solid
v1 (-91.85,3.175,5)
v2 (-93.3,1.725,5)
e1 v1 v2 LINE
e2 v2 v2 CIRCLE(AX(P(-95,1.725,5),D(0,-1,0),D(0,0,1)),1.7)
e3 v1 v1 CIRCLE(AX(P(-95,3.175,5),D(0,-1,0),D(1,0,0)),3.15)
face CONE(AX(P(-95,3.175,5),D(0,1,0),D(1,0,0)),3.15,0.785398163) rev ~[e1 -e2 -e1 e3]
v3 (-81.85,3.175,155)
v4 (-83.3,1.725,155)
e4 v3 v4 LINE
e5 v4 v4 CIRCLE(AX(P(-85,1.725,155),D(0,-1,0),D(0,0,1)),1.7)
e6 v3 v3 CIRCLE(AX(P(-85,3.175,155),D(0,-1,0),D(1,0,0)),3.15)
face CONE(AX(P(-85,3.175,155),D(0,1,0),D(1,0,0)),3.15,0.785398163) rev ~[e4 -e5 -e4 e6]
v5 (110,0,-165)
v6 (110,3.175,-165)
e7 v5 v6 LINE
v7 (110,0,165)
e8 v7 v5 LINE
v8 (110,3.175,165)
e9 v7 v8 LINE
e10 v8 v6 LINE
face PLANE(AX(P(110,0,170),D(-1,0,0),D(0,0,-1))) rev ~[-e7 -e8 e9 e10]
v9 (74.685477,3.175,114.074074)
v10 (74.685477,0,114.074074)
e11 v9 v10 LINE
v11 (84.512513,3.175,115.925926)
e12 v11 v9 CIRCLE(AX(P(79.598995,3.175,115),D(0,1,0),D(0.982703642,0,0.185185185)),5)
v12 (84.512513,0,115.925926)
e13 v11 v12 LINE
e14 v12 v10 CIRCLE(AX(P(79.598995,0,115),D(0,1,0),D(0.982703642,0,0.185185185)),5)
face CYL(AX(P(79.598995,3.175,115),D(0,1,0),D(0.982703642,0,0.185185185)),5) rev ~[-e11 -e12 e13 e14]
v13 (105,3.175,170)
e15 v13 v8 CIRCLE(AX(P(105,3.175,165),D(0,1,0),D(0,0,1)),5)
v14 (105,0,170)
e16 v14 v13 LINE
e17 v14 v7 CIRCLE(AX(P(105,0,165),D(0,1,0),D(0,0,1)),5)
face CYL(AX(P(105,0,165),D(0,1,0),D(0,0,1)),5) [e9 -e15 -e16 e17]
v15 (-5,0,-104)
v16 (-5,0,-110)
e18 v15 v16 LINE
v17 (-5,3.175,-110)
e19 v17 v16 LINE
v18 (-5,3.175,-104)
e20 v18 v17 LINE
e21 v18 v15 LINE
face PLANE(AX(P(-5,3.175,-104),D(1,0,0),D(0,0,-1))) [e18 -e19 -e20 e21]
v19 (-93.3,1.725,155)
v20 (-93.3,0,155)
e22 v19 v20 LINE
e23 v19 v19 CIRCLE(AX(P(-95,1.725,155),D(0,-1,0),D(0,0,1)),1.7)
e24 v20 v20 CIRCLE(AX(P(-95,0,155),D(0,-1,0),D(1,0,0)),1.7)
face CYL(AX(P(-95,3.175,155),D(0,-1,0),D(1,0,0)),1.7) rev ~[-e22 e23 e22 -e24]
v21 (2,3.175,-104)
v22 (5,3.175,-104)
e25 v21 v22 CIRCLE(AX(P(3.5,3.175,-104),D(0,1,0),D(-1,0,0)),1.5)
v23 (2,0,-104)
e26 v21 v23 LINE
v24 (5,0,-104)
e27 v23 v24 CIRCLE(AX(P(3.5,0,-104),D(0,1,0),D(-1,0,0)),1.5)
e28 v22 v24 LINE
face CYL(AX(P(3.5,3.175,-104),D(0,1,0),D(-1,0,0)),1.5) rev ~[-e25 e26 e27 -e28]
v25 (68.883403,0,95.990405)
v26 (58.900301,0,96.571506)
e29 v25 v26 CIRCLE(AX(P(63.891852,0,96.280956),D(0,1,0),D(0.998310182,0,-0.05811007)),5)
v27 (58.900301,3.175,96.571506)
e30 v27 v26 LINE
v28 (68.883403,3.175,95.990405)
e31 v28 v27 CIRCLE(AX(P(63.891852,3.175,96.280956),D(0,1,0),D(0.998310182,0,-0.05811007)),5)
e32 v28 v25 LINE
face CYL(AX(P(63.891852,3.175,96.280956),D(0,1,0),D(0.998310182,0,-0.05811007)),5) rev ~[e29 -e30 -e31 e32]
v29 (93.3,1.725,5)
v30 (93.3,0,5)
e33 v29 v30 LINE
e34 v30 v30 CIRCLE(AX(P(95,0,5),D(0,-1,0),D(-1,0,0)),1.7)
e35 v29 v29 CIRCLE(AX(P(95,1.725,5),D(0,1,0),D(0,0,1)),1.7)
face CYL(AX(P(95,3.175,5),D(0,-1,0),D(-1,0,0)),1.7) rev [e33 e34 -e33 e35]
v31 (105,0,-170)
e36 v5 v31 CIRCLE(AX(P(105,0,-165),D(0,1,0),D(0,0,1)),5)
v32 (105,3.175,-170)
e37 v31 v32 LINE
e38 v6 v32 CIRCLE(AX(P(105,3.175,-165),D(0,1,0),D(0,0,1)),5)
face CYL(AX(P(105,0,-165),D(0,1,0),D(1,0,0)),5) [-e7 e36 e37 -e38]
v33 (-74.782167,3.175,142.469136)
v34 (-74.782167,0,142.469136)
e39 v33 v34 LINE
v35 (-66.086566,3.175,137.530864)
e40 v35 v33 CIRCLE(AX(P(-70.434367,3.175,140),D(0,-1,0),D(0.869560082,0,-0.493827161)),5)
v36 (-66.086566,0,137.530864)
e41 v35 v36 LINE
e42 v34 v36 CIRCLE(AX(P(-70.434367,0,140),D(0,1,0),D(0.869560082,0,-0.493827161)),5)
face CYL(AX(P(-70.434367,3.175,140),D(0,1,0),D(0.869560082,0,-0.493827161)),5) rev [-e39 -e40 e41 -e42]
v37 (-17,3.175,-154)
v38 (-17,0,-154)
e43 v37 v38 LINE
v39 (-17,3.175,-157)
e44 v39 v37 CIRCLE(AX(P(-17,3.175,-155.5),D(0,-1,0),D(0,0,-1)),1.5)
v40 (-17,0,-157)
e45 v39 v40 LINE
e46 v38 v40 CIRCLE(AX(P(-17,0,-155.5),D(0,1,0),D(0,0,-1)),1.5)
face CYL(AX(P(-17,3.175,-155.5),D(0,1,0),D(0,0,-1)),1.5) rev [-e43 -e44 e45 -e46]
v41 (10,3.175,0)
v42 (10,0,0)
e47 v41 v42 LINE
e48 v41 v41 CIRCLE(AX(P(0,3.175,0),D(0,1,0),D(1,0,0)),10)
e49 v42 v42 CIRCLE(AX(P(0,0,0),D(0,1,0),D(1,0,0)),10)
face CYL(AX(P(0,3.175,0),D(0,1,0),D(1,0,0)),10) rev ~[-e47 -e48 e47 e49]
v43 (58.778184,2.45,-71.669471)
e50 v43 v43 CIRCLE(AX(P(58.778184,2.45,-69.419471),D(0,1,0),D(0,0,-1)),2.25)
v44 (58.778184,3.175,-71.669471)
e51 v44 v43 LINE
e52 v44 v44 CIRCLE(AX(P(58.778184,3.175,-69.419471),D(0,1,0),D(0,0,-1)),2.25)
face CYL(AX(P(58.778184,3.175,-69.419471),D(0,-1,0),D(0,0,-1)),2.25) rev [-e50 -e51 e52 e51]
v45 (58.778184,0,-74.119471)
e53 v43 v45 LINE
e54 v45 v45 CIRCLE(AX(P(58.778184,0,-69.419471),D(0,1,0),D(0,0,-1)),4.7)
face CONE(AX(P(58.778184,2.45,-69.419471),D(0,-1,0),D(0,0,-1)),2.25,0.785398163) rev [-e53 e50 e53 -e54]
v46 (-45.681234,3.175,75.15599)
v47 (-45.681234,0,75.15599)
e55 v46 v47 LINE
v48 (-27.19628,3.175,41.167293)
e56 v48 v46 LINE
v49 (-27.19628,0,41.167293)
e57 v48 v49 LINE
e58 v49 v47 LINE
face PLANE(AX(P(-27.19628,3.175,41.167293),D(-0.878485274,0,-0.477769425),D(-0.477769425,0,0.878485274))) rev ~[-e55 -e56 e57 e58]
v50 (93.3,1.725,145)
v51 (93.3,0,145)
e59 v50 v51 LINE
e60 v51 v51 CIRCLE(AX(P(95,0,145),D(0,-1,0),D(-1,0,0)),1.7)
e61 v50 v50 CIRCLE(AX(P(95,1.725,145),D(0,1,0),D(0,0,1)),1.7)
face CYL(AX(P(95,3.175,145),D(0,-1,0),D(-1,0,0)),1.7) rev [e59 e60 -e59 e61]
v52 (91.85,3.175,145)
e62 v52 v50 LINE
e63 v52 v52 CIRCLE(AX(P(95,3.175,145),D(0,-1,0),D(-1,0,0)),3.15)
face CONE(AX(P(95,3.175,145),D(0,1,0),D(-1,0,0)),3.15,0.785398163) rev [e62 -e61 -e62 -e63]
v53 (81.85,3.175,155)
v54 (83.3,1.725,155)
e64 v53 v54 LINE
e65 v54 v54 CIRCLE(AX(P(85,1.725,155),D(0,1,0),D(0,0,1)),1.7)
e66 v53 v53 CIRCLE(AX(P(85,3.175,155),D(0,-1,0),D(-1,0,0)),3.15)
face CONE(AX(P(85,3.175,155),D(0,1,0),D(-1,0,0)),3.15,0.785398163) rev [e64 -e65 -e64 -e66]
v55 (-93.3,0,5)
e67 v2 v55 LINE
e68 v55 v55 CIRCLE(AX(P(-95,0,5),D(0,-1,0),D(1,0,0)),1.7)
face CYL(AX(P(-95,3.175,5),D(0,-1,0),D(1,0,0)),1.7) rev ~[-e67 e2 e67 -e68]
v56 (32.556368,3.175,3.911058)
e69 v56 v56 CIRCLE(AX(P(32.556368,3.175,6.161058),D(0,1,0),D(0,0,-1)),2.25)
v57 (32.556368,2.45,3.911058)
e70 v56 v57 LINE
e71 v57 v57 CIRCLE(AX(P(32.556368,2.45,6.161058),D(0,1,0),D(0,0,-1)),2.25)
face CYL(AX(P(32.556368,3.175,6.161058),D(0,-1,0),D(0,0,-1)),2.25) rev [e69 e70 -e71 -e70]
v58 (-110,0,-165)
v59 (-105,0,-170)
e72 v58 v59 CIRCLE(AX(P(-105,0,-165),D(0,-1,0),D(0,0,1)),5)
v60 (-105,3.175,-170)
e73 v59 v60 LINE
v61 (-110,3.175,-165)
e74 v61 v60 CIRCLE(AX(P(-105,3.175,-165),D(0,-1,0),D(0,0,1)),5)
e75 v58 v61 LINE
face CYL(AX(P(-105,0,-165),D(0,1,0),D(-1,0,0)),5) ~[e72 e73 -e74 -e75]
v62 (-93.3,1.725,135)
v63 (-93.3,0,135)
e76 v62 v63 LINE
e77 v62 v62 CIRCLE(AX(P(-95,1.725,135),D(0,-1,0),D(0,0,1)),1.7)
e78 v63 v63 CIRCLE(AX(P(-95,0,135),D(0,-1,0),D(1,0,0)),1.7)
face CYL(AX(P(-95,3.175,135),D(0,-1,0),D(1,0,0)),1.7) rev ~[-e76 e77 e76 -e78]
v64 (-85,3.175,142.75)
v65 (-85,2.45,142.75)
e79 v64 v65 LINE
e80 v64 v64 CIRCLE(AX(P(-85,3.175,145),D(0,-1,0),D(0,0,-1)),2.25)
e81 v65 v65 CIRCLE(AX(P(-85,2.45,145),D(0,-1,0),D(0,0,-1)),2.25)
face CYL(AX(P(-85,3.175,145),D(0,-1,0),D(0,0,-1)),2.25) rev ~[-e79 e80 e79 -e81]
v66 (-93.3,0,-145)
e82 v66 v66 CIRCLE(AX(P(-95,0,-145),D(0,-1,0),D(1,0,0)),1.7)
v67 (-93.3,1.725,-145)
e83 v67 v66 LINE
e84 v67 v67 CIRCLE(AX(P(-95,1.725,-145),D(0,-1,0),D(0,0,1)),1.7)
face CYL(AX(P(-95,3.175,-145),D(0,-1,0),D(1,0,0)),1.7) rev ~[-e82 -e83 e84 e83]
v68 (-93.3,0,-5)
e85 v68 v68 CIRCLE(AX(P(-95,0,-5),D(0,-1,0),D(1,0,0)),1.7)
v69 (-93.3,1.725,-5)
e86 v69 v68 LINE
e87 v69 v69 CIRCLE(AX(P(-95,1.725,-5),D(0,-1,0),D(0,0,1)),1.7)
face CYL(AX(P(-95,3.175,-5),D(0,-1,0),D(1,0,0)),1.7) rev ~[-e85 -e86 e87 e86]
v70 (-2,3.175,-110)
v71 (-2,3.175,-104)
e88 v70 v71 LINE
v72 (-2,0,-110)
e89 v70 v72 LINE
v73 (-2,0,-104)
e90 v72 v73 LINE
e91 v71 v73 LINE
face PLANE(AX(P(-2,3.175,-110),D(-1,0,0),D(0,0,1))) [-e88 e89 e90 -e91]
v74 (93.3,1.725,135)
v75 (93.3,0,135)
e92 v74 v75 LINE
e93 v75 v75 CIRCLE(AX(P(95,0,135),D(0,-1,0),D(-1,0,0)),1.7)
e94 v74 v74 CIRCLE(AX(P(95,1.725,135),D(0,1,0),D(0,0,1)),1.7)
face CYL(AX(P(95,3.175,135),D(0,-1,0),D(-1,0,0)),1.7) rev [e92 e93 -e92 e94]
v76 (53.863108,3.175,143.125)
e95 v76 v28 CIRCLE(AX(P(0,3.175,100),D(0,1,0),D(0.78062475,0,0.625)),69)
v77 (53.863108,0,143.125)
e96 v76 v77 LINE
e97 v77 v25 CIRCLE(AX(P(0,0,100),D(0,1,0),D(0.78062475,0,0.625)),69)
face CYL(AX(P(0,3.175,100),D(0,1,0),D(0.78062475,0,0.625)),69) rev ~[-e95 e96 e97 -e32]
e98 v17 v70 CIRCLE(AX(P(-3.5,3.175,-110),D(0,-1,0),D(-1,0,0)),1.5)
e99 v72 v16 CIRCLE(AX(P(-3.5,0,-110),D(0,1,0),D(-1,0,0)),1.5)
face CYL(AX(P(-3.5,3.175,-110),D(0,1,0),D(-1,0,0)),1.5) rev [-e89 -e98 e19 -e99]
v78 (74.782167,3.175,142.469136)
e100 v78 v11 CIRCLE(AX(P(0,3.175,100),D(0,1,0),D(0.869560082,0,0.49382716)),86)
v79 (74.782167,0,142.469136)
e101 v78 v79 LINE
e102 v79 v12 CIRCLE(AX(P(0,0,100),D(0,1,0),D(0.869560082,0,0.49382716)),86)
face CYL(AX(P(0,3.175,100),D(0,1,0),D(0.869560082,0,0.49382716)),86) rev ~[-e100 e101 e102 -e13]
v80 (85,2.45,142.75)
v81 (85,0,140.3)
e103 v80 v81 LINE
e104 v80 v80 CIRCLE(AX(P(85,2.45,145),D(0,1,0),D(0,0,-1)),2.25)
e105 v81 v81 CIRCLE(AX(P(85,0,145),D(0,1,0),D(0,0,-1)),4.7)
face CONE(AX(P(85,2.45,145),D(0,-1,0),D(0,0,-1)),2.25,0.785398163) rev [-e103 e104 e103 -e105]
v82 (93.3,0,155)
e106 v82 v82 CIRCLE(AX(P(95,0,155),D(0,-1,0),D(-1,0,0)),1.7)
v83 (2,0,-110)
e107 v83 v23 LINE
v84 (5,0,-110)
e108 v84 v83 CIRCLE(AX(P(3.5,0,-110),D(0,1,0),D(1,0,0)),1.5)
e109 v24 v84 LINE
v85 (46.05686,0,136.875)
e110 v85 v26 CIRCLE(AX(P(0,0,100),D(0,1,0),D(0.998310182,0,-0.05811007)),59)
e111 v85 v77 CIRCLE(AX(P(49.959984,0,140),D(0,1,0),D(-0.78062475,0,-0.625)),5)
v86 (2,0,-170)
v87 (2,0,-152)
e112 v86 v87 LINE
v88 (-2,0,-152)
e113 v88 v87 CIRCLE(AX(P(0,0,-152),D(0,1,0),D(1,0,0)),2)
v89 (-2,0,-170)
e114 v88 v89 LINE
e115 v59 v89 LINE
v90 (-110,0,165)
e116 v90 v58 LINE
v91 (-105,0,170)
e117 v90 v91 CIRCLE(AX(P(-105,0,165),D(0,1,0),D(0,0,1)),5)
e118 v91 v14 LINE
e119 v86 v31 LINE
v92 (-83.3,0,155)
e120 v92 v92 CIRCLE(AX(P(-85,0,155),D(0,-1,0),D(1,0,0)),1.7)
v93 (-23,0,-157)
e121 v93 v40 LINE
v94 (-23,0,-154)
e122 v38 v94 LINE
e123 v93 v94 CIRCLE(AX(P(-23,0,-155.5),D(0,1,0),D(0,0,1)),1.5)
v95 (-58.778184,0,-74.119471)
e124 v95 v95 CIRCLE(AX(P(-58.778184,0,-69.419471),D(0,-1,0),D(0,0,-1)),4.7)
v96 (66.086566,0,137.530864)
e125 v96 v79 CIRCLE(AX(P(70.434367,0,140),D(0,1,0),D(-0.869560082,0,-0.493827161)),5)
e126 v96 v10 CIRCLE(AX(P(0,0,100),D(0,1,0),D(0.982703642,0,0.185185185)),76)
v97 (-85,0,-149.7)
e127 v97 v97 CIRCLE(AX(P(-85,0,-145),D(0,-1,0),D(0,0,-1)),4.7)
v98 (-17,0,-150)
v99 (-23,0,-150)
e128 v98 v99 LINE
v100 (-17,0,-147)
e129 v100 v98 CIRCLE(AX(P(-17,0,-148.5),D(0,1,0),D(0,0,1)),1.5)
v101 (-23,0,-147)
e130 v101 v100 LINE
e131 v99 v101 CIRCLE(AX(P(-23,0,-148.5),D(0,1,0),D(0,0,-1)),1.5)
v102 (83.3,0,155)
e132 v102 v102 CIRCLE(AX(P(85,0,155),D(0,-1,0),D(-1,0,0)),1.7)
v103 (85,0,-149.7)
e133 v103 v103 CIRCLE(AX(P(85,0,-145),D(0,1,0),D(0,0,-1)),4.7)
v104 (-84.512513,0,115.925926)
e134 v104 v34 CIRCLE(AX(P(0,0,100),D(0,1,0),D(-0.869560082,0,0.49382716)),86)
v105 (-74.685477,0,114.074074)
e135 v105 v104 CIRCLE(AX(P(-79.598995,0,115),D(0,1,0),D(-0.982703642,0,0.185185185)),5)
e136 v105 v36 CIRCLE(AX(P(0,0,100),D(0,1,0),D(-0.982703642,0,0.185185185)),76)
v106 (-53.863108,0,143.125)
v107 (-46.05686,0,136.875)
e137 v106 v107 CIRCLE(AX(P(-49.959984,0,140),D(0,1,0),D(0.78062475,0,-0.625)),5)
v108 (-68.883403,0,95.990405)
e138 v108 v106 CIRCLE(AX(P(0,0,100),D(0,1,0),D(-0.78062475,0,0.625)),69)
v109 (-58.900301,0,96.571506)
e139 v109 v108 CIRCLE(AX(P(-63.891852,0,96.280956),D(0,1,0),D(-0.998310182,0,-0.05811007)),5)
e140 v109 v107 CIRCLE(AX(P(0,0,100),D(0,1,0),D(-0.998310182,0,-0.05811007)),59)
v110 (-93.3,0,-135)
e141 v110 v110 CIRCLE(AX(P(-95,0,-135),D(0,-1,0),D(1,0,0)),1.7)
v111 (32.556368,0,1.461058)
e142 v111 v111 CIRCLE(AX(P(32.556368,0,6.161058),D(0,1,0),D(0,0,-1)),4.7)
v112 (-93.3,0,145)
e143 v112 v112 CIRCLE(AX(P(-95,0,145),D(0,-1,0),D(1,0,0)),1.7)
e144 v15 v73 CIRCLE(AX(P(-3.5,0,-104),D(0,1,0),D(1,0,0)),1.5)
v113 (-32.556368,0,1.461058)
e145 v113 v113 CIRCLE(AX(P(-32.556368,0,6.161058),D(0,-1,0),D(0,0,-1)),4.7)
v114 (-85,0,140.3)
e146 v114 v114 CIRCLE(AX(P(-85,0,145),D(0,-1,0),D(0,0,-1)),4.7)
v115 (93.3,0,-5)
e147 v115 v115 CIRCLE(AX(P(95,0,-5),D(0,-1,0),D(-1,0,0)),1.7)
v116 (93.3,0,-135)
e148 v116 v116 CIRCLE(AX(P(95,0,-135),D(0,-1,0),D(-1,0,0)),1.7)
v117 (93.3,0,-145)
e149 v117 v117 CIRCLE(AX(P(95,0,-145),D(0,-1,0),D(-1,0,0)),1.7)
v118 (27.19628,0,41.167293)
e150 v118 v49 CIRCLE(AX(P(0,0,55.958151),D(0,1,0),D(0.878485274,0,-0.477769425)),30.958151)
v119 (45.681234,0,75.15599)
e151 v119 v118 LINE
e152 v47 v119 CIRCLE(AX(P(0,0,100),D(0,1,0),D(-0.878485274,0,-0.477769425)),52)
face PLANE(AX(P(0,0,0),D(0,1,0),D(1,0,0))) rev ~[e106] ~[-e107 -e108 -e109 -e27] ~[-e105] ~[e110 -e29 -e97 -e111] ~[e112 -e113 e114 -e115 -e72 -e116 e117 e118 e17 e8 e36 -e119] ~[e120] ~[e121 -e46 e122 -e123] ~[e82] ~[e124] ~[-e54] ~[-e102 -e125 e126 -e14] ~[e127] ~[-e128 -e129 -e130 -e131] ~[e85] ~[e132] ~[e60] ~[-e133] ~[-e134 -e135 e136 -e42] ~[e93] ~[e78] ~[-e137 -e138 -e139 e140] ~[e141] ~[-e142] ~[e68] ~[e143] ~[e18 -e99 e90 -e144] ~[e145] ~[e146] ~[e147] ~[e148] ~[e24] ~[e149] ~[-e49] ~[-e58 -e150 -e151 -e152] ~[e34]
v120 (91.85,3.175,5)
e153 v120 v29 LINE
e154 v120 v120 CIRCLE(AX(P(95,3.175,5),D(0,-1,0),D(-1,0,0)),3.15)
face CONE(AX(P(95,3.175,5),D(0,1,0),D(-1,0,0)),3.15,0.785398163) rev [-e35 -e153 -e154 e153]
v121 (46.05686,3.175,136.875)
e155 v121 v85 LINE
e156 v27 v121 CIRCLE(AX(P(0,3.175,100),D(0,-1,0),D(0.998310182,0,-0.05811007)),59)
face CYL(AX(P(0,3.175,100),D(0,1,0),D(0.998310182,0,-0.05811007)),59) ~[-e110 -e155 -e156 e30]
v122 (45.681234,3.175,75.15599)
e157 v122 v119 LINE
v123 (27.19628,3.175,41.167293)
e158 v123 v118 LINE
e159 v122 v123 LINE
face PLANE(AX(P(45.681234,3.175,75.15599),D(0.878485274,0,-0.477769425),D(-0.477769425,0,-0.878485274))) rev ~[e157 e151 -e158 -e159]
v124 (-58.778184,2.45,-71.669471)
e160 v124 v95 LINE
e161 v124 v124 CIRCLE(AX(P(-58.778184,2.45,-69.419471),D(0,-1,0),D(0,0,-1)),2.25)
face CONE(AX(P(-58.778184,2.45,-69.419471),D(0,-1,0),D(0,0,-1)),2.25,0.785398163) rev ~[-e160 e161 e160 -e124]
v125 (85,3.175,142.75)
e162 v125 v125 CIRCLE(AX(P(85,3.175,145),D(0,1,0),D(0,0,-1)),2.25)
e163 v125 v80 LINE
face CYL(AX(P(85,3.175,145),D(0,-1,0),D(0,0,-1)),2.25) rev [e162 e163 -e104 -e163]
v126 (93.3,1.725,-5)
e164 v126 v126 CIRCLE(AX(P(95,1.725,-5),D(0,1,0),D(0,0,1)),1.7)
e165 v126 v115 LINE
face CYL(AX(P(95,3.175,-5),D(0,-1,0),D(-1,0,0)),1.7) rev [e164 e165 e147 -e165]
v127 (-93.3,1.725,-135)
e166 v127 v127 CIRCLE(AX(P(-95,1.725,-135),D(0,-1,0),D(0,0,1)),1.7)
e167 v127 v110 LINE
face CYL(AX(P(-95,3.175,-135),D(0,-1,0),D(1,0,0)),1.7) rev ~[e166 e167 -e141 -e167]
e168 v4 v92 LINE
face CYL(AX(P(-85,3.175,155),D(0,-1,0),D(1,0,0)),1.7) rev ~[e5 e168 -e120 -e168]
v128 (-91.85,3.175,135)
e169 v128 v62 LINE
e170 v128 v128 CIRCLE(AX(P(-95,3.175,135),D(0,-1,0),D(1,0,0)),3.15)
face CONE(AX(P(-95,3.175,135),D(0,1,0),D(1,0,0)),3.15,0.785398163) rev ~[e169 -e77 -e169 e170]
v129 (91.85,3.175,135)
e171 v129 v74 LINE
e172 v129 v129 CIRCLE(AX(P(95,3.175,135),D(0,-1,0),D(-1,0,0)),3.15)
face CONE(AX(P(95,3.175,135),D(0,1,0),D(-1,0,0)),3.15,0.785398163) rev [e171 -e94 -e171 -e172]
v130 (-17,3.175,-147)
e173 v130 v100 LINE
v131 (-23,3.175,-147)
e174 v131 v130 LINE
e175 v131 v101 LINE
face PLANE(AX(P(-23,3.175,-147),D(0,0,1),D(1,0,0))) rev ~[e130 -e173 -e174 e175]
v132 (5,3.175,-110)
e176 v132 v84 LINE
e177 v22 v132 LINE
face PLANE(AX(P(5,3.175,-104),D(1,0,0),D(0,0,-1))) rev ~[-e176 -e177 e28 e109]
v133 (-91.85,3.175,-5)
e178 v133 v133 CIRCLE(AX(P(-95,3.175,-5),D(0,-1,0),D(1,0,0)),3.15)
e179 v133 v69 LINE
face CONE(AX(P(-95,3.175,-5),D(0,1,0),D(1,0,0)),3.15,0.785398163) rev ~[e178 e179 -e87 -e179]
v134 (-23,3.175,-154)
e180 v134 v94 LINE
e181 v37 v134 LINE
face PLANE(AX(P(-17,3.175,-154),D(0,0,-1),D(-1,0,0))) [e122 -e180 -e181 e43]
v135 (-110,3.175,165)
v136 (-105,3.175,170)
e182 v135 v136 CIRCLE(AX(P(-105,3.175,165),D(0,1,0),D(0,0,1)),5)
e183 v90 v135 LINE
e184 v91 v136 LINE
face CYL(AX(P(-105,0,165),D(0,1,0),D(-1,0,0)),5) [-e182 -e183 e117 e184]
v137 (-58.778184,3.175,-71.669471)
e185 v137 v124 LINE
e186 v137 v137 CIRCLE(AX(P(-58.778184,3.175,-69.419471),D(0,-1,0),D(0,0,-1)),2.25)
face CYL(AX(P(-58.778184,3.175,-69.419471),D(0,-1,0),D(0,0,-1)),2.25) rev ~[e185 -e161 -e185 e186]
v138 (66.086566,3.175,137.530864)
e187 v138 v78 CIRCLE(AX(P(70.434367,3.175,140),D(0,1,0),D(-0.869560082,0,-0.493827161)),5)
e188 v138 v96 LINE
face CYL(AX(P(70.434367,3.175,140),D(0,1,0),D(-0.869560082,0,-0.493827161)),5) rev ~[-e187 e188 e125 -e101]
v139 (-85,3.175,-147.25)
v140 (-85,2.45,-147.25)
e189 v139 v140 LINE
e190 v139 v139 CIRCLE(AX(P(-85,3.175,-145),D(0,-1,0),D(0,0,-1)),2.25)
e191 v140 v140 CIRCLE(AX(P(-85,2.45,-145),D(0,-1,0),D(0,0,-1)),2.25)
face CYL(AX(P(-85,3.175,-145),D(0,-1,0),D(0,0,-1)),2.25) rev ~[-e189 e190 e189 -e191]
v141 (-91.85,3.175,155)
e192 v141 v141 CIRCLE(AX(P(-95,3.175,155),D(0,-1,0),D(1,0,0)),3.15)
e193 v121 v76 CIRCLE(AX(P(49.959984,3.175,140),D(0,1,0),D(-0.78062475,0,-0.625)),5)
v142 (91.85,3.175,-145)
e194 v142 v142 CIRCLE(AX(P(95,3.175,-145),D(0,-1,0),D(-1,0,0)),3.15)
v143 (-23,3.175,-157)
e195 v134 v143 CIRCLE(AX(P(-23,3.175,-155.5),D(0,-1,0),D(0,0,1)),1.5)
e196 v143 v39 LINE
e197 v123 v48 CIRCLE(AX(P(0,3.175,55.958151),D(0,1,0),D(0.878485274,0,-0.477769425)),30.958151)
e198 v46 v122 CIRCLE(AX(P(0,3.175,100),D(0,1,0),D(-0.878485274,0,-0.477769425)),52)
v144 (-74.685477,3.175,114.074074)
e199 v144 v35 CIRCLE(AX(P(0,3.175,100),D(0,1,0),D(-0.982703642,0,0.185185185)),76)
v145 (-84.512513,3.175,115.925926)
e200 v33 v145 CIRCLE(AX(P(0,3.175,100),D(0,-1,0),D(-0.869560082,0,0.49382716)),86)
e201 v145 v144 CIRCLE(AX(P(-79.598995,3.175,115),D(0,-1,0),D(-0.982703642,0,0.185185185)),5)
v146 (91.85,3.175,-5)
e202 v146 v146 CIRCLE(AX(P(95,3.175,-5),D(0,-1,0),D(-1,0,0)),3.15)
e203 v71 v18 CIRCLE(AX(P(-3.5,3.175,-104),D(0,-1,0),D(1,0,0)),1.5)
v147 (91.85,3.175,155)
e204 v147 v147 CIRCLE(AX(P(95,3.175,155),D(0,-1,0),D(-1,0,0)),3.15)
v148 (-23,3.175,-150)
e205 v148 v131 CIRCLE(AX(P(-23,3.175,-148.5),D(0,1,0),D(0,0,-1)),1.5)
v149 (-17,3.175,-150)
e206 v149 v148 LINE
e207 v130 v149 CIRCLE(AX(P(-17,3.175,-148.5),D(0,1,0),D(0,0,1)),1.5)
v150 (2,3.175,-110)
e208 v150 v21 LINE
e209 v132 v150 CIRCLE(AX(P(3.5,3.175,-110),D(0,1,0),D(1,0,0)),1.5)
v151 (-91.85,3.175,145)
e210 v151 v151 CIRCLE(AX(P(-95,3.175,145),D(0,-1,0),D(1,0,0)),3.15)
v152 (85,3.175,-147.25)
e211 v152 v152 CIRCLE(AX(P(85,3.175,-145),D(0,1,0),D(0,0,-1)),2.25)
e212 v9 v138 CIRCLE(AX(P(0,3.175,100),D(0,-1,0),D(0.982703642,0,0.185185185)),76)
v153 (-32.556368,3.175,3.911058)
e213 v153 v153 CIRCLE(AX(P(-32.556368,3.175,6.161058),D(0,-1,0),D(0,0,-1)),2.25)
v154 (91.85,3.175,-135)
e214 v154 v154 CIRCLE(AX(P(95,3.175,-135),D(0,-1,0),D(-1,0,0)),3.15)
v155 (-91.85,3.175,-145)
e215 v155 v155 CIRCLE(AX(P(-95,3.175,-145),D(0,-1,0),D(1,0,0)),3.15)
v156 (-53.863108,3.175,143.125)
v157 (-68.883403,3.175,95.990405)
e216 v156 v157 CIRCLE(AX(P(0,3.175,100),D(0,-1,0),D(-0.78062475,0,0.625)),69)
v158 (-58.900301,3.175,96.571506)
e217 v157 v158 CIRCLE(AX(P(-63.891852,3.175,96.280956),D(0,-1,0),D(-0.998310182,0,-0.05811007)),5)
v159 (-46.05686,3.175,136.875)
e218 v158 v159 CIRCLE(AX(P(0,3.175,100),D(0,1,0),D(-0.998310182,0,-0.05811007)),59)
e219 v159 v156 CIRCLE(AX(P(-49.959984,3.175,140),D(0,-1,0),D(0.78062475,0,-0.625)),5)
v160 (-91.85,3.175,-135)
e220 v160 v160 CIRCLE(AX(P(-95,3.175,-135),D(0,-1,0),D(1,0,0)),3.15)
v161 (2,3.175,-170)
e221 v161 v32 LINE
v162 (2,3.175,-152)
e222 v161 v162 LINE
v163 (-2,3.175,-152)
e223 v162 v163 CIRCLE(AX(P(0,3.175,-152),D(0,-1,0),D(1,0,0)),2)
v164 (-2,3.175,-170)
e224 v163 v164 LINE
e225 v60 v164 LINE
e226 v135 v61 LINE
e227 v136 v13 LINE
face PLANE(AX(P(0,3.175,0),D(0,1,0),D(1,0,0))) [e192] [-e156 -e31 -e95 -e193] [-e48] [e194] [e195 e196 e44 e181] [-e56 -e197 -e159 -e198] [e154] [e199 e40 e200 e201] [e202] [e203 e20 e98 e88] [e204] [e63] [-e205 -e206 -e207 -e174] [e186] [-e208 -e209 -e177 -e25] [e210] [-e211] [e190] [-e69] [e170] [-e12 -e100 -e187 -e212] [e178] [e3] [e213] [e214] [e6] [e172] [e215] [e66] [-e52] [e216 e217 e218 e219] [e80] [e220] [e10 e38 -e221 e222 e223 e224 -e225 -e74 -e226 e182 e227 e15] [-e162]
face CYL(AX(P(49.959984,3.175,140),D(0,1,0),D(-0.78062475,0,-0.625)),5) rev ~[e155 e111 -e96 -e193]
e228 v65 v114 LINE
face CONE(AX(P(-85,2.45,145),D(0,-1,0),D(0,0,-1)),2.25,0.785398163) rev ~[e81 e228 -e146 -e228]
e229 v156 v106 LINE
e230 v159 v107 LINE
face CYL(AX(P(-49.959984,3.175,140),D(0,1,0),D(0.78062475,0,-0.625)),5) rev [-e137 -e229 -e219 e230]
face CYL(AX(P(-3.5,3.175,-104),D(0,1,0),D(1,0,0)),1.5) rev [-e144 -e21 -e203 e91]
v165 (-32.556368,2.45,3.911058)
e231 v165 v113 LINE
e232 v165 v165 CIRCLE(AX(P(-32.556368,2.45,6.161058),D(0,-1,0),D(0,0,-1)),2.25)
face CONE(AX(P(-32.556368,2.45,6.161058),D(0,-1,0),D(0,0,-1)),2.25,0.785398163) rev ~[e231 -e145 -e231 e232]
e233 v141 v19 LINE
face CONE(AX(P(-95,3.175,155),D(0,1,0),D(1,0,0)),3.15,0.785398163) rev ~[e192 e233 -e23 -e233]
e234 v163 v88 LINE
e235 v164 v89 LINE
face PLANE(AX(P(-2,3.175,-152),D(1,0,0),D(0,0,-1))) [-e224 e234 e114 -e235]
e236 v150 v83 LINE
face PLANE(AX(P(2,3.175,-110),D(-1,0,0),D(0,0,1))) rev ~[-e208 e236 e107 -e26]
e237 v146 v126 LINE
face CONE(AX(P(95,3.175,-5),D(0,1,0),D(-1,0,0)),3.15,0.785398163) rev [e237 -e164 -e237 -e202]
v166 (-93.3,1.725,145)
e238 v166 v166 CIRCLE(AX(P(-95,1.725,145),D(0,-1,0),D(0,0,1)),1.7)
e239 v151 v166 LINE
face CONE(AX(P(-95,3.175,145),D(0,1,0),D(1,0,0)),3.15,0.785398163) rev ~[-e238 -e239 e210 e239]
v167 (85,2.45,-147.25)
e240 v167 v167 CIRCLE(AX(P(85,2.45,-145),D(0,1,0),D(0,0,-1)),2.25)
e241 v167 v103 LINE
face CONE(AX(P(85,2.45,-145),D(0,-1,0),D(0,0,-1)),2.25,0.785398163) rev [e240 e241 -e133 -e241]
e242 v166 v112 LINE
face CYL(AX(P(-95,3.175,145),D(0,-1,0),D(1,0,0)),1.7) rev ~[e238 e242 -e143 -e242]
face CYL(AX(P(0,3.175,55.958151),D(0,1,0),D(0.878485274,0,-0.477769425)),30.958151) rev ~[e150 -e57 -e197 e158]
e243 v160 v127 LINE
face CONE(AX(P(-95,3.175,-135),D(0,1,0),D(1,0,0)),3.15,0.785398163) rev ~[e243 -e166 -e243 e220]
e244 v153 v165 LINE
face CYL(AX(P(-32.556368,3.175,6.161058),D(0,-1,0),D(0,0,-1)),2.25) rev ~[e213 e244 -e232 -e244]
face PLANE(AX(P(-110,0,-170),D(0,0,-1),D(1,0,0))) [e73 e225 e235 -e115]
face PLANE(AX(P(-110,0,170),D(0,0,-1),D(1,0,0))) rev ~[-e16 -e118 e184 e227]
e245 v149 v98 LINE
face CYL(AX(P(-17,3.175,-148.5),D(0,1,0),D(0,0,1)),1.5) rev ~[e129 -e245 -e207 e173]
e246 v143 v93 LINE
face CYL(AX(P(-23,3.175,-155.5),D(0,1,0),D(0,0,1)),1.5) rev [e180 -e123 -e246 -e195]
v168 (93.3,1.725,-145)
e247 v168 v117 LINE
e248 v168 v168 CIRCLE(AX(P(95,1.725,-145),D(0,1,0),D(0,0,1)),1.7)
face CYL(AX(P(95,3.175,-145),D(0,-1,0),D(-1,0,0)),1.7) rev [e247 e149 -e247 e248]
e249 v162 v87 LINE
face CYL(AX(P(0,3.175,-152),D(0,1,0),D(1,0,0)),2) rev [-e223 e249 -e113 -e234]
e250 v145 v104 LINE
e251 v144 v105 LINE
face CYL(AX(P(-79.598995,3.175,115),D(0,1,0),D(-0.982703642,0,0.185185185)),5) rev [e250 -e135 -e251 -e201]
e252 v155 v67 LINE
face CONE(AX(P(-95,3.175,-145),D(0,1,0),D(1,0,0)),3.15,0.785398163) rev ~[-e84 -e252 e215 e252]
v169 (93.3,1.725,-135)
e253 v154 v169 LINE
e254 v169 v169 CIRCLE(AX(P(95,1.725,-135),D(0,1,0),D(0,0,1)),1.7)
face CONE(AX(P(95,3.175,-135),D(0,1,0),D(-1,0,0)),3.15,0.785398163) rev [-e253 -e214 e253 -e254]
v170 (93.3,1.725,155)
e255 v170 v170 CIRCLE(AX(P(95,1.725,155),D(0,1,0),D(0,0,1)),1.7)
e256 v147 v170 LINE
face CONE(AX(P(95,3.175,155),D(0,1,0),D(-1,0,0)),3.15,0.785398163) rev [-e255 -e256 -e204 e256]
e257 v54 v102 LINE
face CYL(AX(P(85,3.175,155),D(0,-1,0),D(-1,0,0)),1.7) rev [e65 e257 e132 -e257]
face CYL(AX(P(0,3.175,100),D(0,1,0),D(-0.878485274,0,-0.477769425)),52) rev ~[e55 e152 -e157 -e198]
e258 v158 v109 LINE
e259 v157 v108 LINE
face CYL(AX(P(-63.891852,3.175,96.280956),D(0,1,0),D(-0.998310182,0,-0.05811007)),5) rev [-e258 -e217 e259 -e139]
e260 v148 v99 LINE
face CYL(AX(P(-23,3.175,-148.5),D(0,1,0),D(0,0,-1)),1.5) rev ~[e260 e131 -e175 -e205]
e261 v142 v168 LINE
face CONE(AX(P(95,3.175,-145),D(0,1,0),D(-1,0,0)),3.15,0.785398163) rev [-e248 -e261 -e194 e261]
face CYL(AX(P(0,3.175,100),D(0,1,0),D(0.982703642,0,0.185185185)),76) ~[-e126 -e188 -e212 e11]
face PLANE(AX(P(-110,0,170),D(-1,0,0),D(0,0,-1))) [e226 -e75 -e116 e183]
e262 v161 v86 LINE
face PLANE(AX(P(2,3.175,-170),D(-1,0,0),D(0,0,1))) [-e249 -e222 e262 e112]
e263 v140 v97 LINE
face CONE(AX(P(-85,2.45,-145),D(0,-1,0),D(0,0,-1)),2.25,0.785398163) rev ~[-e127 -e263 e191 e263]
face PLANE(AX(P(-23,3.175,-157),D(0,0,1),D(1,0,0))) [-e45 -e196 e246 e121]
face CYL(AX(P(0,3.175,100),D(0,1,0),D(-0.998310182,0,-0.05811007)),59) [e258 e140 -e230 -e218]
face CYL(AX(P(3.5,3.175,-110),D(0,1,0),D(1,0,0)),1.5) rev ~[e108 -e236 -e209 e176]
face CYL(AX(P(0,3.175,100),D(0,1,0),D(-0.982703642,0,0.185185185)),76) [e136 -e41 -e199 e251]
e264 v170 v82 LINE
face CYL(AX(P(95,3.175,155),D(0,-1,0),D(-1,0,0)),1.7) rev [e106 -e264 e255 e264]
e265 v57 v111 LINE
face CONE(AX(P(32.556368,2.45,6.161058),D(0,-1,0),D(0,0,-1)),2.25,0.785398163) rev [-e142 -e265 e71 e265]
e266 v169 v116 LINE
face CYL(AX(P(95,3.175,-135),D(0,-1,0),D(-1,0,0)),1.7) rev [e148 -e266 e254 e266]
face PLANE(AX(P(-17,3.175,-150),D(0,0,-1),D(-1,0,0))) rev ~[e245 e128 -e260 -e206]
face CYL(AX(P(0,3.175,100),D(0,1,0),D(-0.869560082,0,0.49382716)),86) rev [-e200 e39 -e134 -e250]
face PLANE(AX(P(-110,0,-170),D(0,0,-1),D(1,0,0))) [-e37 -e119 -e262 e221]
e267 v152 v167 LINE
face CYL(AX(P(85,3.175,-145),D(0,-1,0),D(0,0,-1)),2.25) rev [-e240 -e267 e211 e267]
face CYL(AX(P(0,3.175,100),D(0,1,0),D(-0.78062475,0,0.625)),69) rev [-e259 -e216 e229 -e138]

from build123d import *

# Parameters (mm, degrees)
SKETCH1_W                                       = 220
SKETCH1_H                                       = 340
BOSS_EXTRUDE1_DEPTH                             = 3.175
FILLET1_R                                       = 5
SKETCH2_R                                       = 10
CUT_EXTRUDE1_DEPTH                              = 4.175
CSK_FOR_M3_FLAT_HEAD_MACHINE_SCREW1_D           = 3.4
CSK_FOR_M3_FLAT_HEAD_MACHINE_SCREW1_CSINK_D     = 6.3
CSK_FOR_M3_FLAT_HEAD_MACHINE_SCREW1_CSINK_ANGLE = 90
CSK_FOR_M4_FLAT_HEAD_MACHINE_SCREW1_AT_2_COUNT  = 2
CSK_FOR_M4_FLAT_HEAD_MACHINE_SCREW1_AT_2_PITCH  = 290
CSK_FOR_M4_FLAT_HEAD_MACHINE_SCREW1_AT_3_COUNT  = 2
CSK_FOR_M4_FLAT_HEAD_MACHINE_SCREW1_AT_3_PITCH  = 148.413565465
CSK_FOR_M4_FLAT_HEAD_MACHINE_SCREW1_AT_4_COUNT  = 2
CSK_FOR_M4_FLAT_HEAD_MACHINE_SCREW1_AT_4_PITCH  = 216.016881764
CUT_EXTRUDE2_DEPTH                              = 4.175


with BuildPart() as part:
    # Sketch1 → Boss-Extrude1 (new body)
    with BuildSketch(Plane(origin=(0, 0, 0), x_dir=(1, 0, 0), z_dir=(0, 1, 0))):
        Rectangle(SKETCH1_W, SKETCH1_H)
    extrude(amount=BOSS_EXTRUDE1_DEPTH)

    # Fillet1
    fillet1_edges = [part.edges().sort_by_distance(p)[0] for p in [
        (-110, 1.5875, -170),
        (110, 1.5875, -170),
        (110, 1.5875, 170),
        (-110, 1.5875, 170),
    ]]
    fillet(fillet1_edges, radius=FILLET1_R)

    # Sketch2 → Cut-Extrude1 (cut, through all)
    with BuildSketch(Plane(origin=(0, 3.175, 0), x_dir=(1, 0, 0), z_dir=(0, 1, 0))):
        Circle(SKETCH2_R)
        with BuildLine():
            Line((-27.196280021, -41.167293162), (-45.681234259, -75.155989926))
            ThreePointArc((-45.681234259, -75.155989926), (0, -152), (45.681234259, -75.155989926))
            Line((45.681234259, -75.155989926), (27.196280021, -41.167293162))
            ThreePointArc((27.196280021, -41.167293162), (0, -25), (-27.196280021, -41.167293162))
        make_face()
        with BuildLine():
            Line((2, 170), (2, 152))
            ThreePointArc((2, 152), (0, 150), (-2, 152))
            Line((-2, 152), (-2, 170))
            ThreePointArc((-2, 170), (0, 172), (2, 170))
        make_face()
        with BuildLine():
            Line((-2, 110), (-2, 104))
            ThreePointArc((-2, 104), (-3.5, 102.5), (-5, 104))
            Line((-5, 104), (-5, 110))
            ThreePointArc((-5, 110), (-3.5, 111.5), (-2, 110))
        make_face()
        with BuildLine():
            Line((2, 110), (2, 104))
            ThreePointArc((2, 104), (3.5, 102.5), (5, 104))
            Line((5, 104), (5, 110))
            ThreePointArc((5, 110), (3.5, 111.5), (2, 110))
        make_face()
        with BuildLine():
            Line((-23, 157), (-17, 157))
            ThreePointArc((-17, 157), (-15.5, 155.5), (-17, 154))
            Line((-17, 154), (-23, 154))
            ThreePointArc((-23, 154), (-24.5, 155.5), (-23, 157))
        make_face()
        with BuildLine():
            Line((-23, 147), (-17, 147))
            ThreePointArc((-17, 147), (-15.5, 148.5), (-17, 150))
            Line((-17, 150), (-23, 150))
            ThreePointArc((-23, 150), (-24.5, 148.5), (-23, 147))
        make_face()
    extrude(amount=-CUT_EXTRUDE1_DEPTH, mode=Mode.SUBTRACT)

    # CSK for M3 Flat Head Machine Screw1 (through all)
    with Locations(Plane(origin=(0, 3.175, 0), x_dir=(-1, 0, 0), z_dir=(0, 1, 0))):
        with Locations((85, 155), (95, 155), (95, 145), (95, 135), (95, 5), (95, -5), (95, -135), (95, -145)):
            csk_for_m3_flat_head_machine_screw1 = CounterSinkHole(CSK_FOR_M3_FLAT_HEAD_MACHINE_SCREW1_D / 2, CSK_FOR_M3_FLAT_HEAD_MACHINE_SCREW1_CSINK_D / 2, counter_sink_angle=CSK_FOR_M3_FLAT_HEAD_MACHINE_SCREW1_CSINK_ANGLE)

    # Mirror3: CSK for M3 Flat Head Machine Screw1 across plane
    add(csk_for_m3_flat_head_machine_screw1.mirror(Plane(origin=(0, 0, 0), x_dir=(0, 0, 1), z_dir=(1, 0, 0))), mode=Mode.SUBTRACT)

    # Sketch5 → CSK for M4 Flat Head Machine Screw1 (revolve, cut)
    with BuildSketch(Plane(origin=(85, 0, 145), x_dir=(0, 0, -1), z_dir=(1, 0, 0))):
        Polygon((0, 0), (0, 3.175), (2.25, 3.175), (2.25, 2.45), (4.7, 0), align=None)
    csk_for_m4_flat_head_machine_screw1 = revolve(axis=Axis((85, -6.35, 145), (0, 1, 0)), mode=Mode.SUBTRACT)

    # CSK for M4 Flat Head Machine Screw1 at 2: CSK for M4 Flat Head Machine Screw1 ×2
    with Locations(*[(0, 0, -i * CSK_FOR_M4_FLAT_HEAD_MACHINE_SCREW1_AT_2_PITCH) for i in range(1, CSK_FOR_M4_FLAT_HEAD_MACHINE_SCREW1_AT_2_COUNT)]):
        add(csk_for_m4_flat_head_machine_screw1, mode=Mode.SUBTRACT)

    # CSK for M4 Flat Head Machine Screw1 at 3: CSK for M4 Flat Head Machine Screw1 ×2
    with Locations(*[Vector(-0.353361448, 0, -0.935486872) * (i * CSK_FOR_M4_FLAT_HEAD_MACHINE_SCREW1_AT_3_PITCH) for i in range(1, CSK_FOR_M4_FLAT_HEAD_MACHINE_SCREW1_AT_3_COUNT)]):
        add(csk_for_m4_flat_head_machine_screw1, mode=Mode.SUBTRACT)

    # CSK for M4 Flat Head Machine Screw1 at 4: CSK for M4 Flat Head Machine Screw1 ×2
    with Locations(*[Vector(-0.12138781, 0, -0.992605158) * (i * CSK_FOR_M4_FLAT_HEAD_MACHINE_SCREW1_AT_4_PITCH) for i in range(1, CSK_FOR_M4_FLAT_HEAD_MACHINE_SCREW1_AT_4_COUNT)]):
        add(csk_for_m4_flat_head_machine_screw1, mode=Mode.SUBTRACT)

    # Mirror4: CSK for M4 Flat Head Machine Screw1 across plane
    add(csk_for_m4_flat_head_machine_screw1.mirror(Plane(origin=(0, 0, 0), x_dir=(0, 0, 1), z_dir=(1, 0, 0))), mode=Mode.SUBTRACT)

    # Mirror4 copy 1 sketch → Mirror4 copy 1 (revolve, cut)
    with BuildSketch(Plane(origin=(-85, 0, -145), x_dir=(0, 0, -1), z_dir=(-1, 0, 0))):
        Polygon((0, 0), (0, -3.175), (2.25, -3.175), (2.25, -2.45), (4.7, 0), align=None)
    revolve(axis=Axis((-85, -6.35, -145), (0, -1, 0)), mode=Mode.SUBTRACT)

    # Mirror4 copy 2 sketch → Mirror4 copy 2 (revolve, cut)
    with BuildSketch(Plane(origin=(-32.556367665, 0, 6.161057907), x_dir=(0, 0, -1), z_dir=(-1, 0, 0))):
        Polygon((0, 0), (0, -3.175), (2.25, -3.175), (2.25, -2.45), (4.7, 0), align=None)
    revolve(axis=Axis((-32.556367665, -6.35, 6.161057907), (0, -1, 0)), mode=Mode.SUBTRACT)

    # Mirror4 copy 3 sketch → Mirror4 copy 3 (revolve, cut)
    with BuildSketch(Plane(origin=(-58.778183832, 0, -69.419471047), x_dir=(0, 0, -1), z_dir=(-1, 0, 0))):
        Polygon((0, 0), (0, -3.175), (2.25, -3.175), (2.25, -2.45), (4.7, 0), align=None)
    revolve(axis=Axis((-58.778183832, -6.35, -69.419471047), (0, -1, 0)), mode=Mode.SUBTRACT)

    # Sketch7 → Cut-Extrude2 (cut, through all)
    with BuildSketch(Plane(origin=(0, 3.175, 0), x_dir=(1, 0, 0), z_dir=(0, 1, 0))):
        with BuildLine():
            ThreePointArc((53.863107736, -143.125), (65.742634228, -120.950084602), (68.883402568, -95.99040518))
            ThreePointArc((68.883402568, -95.99040518), (63.601301308, -91.289404619), (58.900300747, -96.571505879))
            ThreePointArc((58.900300747, -96.571505879), (56.214716224, -117.913840457), (46.056860238, -136.875))
            ThreePointArc((46.056860238, -136.875), (46.834983987, -143.903123749), (53.863107736, -143.125))
        make_face()
        with BuildLine():
            ThreePointArc((74.685476761, -114.074074074), (71.35648023, -126.158224886), (66.086566204, -137.530864198))
            ThreePointArc((66.086566204, -137.530864198), (67.965230809, -144.347800408), (74.78216702, -142.469135802))
            ThreePointArc((74.78216702, -142.469135802), (80.745490786, -129.600096582), (84.512513176, -115.925925926))
            ThreePointArc((84.512513176, -115.925925926), (80.524920894, -110.086481792), (74.685476761, -114.074074074))
        make_face()
    cut_extrude2 = extrude(amount=-CUT_EXTRUDE2_DEPTH, mode=Mode.SUBTRACT)

    # Mirror5: Cut-Extrude2 across plane
    add(cut_extrude2.mirror(Plane(origin=(0, 0, 0), x_dir=(0, 0, 1), z_dir=(1, 0, 0))), mode=Mode.SUBTRACT)


solid = part.part
